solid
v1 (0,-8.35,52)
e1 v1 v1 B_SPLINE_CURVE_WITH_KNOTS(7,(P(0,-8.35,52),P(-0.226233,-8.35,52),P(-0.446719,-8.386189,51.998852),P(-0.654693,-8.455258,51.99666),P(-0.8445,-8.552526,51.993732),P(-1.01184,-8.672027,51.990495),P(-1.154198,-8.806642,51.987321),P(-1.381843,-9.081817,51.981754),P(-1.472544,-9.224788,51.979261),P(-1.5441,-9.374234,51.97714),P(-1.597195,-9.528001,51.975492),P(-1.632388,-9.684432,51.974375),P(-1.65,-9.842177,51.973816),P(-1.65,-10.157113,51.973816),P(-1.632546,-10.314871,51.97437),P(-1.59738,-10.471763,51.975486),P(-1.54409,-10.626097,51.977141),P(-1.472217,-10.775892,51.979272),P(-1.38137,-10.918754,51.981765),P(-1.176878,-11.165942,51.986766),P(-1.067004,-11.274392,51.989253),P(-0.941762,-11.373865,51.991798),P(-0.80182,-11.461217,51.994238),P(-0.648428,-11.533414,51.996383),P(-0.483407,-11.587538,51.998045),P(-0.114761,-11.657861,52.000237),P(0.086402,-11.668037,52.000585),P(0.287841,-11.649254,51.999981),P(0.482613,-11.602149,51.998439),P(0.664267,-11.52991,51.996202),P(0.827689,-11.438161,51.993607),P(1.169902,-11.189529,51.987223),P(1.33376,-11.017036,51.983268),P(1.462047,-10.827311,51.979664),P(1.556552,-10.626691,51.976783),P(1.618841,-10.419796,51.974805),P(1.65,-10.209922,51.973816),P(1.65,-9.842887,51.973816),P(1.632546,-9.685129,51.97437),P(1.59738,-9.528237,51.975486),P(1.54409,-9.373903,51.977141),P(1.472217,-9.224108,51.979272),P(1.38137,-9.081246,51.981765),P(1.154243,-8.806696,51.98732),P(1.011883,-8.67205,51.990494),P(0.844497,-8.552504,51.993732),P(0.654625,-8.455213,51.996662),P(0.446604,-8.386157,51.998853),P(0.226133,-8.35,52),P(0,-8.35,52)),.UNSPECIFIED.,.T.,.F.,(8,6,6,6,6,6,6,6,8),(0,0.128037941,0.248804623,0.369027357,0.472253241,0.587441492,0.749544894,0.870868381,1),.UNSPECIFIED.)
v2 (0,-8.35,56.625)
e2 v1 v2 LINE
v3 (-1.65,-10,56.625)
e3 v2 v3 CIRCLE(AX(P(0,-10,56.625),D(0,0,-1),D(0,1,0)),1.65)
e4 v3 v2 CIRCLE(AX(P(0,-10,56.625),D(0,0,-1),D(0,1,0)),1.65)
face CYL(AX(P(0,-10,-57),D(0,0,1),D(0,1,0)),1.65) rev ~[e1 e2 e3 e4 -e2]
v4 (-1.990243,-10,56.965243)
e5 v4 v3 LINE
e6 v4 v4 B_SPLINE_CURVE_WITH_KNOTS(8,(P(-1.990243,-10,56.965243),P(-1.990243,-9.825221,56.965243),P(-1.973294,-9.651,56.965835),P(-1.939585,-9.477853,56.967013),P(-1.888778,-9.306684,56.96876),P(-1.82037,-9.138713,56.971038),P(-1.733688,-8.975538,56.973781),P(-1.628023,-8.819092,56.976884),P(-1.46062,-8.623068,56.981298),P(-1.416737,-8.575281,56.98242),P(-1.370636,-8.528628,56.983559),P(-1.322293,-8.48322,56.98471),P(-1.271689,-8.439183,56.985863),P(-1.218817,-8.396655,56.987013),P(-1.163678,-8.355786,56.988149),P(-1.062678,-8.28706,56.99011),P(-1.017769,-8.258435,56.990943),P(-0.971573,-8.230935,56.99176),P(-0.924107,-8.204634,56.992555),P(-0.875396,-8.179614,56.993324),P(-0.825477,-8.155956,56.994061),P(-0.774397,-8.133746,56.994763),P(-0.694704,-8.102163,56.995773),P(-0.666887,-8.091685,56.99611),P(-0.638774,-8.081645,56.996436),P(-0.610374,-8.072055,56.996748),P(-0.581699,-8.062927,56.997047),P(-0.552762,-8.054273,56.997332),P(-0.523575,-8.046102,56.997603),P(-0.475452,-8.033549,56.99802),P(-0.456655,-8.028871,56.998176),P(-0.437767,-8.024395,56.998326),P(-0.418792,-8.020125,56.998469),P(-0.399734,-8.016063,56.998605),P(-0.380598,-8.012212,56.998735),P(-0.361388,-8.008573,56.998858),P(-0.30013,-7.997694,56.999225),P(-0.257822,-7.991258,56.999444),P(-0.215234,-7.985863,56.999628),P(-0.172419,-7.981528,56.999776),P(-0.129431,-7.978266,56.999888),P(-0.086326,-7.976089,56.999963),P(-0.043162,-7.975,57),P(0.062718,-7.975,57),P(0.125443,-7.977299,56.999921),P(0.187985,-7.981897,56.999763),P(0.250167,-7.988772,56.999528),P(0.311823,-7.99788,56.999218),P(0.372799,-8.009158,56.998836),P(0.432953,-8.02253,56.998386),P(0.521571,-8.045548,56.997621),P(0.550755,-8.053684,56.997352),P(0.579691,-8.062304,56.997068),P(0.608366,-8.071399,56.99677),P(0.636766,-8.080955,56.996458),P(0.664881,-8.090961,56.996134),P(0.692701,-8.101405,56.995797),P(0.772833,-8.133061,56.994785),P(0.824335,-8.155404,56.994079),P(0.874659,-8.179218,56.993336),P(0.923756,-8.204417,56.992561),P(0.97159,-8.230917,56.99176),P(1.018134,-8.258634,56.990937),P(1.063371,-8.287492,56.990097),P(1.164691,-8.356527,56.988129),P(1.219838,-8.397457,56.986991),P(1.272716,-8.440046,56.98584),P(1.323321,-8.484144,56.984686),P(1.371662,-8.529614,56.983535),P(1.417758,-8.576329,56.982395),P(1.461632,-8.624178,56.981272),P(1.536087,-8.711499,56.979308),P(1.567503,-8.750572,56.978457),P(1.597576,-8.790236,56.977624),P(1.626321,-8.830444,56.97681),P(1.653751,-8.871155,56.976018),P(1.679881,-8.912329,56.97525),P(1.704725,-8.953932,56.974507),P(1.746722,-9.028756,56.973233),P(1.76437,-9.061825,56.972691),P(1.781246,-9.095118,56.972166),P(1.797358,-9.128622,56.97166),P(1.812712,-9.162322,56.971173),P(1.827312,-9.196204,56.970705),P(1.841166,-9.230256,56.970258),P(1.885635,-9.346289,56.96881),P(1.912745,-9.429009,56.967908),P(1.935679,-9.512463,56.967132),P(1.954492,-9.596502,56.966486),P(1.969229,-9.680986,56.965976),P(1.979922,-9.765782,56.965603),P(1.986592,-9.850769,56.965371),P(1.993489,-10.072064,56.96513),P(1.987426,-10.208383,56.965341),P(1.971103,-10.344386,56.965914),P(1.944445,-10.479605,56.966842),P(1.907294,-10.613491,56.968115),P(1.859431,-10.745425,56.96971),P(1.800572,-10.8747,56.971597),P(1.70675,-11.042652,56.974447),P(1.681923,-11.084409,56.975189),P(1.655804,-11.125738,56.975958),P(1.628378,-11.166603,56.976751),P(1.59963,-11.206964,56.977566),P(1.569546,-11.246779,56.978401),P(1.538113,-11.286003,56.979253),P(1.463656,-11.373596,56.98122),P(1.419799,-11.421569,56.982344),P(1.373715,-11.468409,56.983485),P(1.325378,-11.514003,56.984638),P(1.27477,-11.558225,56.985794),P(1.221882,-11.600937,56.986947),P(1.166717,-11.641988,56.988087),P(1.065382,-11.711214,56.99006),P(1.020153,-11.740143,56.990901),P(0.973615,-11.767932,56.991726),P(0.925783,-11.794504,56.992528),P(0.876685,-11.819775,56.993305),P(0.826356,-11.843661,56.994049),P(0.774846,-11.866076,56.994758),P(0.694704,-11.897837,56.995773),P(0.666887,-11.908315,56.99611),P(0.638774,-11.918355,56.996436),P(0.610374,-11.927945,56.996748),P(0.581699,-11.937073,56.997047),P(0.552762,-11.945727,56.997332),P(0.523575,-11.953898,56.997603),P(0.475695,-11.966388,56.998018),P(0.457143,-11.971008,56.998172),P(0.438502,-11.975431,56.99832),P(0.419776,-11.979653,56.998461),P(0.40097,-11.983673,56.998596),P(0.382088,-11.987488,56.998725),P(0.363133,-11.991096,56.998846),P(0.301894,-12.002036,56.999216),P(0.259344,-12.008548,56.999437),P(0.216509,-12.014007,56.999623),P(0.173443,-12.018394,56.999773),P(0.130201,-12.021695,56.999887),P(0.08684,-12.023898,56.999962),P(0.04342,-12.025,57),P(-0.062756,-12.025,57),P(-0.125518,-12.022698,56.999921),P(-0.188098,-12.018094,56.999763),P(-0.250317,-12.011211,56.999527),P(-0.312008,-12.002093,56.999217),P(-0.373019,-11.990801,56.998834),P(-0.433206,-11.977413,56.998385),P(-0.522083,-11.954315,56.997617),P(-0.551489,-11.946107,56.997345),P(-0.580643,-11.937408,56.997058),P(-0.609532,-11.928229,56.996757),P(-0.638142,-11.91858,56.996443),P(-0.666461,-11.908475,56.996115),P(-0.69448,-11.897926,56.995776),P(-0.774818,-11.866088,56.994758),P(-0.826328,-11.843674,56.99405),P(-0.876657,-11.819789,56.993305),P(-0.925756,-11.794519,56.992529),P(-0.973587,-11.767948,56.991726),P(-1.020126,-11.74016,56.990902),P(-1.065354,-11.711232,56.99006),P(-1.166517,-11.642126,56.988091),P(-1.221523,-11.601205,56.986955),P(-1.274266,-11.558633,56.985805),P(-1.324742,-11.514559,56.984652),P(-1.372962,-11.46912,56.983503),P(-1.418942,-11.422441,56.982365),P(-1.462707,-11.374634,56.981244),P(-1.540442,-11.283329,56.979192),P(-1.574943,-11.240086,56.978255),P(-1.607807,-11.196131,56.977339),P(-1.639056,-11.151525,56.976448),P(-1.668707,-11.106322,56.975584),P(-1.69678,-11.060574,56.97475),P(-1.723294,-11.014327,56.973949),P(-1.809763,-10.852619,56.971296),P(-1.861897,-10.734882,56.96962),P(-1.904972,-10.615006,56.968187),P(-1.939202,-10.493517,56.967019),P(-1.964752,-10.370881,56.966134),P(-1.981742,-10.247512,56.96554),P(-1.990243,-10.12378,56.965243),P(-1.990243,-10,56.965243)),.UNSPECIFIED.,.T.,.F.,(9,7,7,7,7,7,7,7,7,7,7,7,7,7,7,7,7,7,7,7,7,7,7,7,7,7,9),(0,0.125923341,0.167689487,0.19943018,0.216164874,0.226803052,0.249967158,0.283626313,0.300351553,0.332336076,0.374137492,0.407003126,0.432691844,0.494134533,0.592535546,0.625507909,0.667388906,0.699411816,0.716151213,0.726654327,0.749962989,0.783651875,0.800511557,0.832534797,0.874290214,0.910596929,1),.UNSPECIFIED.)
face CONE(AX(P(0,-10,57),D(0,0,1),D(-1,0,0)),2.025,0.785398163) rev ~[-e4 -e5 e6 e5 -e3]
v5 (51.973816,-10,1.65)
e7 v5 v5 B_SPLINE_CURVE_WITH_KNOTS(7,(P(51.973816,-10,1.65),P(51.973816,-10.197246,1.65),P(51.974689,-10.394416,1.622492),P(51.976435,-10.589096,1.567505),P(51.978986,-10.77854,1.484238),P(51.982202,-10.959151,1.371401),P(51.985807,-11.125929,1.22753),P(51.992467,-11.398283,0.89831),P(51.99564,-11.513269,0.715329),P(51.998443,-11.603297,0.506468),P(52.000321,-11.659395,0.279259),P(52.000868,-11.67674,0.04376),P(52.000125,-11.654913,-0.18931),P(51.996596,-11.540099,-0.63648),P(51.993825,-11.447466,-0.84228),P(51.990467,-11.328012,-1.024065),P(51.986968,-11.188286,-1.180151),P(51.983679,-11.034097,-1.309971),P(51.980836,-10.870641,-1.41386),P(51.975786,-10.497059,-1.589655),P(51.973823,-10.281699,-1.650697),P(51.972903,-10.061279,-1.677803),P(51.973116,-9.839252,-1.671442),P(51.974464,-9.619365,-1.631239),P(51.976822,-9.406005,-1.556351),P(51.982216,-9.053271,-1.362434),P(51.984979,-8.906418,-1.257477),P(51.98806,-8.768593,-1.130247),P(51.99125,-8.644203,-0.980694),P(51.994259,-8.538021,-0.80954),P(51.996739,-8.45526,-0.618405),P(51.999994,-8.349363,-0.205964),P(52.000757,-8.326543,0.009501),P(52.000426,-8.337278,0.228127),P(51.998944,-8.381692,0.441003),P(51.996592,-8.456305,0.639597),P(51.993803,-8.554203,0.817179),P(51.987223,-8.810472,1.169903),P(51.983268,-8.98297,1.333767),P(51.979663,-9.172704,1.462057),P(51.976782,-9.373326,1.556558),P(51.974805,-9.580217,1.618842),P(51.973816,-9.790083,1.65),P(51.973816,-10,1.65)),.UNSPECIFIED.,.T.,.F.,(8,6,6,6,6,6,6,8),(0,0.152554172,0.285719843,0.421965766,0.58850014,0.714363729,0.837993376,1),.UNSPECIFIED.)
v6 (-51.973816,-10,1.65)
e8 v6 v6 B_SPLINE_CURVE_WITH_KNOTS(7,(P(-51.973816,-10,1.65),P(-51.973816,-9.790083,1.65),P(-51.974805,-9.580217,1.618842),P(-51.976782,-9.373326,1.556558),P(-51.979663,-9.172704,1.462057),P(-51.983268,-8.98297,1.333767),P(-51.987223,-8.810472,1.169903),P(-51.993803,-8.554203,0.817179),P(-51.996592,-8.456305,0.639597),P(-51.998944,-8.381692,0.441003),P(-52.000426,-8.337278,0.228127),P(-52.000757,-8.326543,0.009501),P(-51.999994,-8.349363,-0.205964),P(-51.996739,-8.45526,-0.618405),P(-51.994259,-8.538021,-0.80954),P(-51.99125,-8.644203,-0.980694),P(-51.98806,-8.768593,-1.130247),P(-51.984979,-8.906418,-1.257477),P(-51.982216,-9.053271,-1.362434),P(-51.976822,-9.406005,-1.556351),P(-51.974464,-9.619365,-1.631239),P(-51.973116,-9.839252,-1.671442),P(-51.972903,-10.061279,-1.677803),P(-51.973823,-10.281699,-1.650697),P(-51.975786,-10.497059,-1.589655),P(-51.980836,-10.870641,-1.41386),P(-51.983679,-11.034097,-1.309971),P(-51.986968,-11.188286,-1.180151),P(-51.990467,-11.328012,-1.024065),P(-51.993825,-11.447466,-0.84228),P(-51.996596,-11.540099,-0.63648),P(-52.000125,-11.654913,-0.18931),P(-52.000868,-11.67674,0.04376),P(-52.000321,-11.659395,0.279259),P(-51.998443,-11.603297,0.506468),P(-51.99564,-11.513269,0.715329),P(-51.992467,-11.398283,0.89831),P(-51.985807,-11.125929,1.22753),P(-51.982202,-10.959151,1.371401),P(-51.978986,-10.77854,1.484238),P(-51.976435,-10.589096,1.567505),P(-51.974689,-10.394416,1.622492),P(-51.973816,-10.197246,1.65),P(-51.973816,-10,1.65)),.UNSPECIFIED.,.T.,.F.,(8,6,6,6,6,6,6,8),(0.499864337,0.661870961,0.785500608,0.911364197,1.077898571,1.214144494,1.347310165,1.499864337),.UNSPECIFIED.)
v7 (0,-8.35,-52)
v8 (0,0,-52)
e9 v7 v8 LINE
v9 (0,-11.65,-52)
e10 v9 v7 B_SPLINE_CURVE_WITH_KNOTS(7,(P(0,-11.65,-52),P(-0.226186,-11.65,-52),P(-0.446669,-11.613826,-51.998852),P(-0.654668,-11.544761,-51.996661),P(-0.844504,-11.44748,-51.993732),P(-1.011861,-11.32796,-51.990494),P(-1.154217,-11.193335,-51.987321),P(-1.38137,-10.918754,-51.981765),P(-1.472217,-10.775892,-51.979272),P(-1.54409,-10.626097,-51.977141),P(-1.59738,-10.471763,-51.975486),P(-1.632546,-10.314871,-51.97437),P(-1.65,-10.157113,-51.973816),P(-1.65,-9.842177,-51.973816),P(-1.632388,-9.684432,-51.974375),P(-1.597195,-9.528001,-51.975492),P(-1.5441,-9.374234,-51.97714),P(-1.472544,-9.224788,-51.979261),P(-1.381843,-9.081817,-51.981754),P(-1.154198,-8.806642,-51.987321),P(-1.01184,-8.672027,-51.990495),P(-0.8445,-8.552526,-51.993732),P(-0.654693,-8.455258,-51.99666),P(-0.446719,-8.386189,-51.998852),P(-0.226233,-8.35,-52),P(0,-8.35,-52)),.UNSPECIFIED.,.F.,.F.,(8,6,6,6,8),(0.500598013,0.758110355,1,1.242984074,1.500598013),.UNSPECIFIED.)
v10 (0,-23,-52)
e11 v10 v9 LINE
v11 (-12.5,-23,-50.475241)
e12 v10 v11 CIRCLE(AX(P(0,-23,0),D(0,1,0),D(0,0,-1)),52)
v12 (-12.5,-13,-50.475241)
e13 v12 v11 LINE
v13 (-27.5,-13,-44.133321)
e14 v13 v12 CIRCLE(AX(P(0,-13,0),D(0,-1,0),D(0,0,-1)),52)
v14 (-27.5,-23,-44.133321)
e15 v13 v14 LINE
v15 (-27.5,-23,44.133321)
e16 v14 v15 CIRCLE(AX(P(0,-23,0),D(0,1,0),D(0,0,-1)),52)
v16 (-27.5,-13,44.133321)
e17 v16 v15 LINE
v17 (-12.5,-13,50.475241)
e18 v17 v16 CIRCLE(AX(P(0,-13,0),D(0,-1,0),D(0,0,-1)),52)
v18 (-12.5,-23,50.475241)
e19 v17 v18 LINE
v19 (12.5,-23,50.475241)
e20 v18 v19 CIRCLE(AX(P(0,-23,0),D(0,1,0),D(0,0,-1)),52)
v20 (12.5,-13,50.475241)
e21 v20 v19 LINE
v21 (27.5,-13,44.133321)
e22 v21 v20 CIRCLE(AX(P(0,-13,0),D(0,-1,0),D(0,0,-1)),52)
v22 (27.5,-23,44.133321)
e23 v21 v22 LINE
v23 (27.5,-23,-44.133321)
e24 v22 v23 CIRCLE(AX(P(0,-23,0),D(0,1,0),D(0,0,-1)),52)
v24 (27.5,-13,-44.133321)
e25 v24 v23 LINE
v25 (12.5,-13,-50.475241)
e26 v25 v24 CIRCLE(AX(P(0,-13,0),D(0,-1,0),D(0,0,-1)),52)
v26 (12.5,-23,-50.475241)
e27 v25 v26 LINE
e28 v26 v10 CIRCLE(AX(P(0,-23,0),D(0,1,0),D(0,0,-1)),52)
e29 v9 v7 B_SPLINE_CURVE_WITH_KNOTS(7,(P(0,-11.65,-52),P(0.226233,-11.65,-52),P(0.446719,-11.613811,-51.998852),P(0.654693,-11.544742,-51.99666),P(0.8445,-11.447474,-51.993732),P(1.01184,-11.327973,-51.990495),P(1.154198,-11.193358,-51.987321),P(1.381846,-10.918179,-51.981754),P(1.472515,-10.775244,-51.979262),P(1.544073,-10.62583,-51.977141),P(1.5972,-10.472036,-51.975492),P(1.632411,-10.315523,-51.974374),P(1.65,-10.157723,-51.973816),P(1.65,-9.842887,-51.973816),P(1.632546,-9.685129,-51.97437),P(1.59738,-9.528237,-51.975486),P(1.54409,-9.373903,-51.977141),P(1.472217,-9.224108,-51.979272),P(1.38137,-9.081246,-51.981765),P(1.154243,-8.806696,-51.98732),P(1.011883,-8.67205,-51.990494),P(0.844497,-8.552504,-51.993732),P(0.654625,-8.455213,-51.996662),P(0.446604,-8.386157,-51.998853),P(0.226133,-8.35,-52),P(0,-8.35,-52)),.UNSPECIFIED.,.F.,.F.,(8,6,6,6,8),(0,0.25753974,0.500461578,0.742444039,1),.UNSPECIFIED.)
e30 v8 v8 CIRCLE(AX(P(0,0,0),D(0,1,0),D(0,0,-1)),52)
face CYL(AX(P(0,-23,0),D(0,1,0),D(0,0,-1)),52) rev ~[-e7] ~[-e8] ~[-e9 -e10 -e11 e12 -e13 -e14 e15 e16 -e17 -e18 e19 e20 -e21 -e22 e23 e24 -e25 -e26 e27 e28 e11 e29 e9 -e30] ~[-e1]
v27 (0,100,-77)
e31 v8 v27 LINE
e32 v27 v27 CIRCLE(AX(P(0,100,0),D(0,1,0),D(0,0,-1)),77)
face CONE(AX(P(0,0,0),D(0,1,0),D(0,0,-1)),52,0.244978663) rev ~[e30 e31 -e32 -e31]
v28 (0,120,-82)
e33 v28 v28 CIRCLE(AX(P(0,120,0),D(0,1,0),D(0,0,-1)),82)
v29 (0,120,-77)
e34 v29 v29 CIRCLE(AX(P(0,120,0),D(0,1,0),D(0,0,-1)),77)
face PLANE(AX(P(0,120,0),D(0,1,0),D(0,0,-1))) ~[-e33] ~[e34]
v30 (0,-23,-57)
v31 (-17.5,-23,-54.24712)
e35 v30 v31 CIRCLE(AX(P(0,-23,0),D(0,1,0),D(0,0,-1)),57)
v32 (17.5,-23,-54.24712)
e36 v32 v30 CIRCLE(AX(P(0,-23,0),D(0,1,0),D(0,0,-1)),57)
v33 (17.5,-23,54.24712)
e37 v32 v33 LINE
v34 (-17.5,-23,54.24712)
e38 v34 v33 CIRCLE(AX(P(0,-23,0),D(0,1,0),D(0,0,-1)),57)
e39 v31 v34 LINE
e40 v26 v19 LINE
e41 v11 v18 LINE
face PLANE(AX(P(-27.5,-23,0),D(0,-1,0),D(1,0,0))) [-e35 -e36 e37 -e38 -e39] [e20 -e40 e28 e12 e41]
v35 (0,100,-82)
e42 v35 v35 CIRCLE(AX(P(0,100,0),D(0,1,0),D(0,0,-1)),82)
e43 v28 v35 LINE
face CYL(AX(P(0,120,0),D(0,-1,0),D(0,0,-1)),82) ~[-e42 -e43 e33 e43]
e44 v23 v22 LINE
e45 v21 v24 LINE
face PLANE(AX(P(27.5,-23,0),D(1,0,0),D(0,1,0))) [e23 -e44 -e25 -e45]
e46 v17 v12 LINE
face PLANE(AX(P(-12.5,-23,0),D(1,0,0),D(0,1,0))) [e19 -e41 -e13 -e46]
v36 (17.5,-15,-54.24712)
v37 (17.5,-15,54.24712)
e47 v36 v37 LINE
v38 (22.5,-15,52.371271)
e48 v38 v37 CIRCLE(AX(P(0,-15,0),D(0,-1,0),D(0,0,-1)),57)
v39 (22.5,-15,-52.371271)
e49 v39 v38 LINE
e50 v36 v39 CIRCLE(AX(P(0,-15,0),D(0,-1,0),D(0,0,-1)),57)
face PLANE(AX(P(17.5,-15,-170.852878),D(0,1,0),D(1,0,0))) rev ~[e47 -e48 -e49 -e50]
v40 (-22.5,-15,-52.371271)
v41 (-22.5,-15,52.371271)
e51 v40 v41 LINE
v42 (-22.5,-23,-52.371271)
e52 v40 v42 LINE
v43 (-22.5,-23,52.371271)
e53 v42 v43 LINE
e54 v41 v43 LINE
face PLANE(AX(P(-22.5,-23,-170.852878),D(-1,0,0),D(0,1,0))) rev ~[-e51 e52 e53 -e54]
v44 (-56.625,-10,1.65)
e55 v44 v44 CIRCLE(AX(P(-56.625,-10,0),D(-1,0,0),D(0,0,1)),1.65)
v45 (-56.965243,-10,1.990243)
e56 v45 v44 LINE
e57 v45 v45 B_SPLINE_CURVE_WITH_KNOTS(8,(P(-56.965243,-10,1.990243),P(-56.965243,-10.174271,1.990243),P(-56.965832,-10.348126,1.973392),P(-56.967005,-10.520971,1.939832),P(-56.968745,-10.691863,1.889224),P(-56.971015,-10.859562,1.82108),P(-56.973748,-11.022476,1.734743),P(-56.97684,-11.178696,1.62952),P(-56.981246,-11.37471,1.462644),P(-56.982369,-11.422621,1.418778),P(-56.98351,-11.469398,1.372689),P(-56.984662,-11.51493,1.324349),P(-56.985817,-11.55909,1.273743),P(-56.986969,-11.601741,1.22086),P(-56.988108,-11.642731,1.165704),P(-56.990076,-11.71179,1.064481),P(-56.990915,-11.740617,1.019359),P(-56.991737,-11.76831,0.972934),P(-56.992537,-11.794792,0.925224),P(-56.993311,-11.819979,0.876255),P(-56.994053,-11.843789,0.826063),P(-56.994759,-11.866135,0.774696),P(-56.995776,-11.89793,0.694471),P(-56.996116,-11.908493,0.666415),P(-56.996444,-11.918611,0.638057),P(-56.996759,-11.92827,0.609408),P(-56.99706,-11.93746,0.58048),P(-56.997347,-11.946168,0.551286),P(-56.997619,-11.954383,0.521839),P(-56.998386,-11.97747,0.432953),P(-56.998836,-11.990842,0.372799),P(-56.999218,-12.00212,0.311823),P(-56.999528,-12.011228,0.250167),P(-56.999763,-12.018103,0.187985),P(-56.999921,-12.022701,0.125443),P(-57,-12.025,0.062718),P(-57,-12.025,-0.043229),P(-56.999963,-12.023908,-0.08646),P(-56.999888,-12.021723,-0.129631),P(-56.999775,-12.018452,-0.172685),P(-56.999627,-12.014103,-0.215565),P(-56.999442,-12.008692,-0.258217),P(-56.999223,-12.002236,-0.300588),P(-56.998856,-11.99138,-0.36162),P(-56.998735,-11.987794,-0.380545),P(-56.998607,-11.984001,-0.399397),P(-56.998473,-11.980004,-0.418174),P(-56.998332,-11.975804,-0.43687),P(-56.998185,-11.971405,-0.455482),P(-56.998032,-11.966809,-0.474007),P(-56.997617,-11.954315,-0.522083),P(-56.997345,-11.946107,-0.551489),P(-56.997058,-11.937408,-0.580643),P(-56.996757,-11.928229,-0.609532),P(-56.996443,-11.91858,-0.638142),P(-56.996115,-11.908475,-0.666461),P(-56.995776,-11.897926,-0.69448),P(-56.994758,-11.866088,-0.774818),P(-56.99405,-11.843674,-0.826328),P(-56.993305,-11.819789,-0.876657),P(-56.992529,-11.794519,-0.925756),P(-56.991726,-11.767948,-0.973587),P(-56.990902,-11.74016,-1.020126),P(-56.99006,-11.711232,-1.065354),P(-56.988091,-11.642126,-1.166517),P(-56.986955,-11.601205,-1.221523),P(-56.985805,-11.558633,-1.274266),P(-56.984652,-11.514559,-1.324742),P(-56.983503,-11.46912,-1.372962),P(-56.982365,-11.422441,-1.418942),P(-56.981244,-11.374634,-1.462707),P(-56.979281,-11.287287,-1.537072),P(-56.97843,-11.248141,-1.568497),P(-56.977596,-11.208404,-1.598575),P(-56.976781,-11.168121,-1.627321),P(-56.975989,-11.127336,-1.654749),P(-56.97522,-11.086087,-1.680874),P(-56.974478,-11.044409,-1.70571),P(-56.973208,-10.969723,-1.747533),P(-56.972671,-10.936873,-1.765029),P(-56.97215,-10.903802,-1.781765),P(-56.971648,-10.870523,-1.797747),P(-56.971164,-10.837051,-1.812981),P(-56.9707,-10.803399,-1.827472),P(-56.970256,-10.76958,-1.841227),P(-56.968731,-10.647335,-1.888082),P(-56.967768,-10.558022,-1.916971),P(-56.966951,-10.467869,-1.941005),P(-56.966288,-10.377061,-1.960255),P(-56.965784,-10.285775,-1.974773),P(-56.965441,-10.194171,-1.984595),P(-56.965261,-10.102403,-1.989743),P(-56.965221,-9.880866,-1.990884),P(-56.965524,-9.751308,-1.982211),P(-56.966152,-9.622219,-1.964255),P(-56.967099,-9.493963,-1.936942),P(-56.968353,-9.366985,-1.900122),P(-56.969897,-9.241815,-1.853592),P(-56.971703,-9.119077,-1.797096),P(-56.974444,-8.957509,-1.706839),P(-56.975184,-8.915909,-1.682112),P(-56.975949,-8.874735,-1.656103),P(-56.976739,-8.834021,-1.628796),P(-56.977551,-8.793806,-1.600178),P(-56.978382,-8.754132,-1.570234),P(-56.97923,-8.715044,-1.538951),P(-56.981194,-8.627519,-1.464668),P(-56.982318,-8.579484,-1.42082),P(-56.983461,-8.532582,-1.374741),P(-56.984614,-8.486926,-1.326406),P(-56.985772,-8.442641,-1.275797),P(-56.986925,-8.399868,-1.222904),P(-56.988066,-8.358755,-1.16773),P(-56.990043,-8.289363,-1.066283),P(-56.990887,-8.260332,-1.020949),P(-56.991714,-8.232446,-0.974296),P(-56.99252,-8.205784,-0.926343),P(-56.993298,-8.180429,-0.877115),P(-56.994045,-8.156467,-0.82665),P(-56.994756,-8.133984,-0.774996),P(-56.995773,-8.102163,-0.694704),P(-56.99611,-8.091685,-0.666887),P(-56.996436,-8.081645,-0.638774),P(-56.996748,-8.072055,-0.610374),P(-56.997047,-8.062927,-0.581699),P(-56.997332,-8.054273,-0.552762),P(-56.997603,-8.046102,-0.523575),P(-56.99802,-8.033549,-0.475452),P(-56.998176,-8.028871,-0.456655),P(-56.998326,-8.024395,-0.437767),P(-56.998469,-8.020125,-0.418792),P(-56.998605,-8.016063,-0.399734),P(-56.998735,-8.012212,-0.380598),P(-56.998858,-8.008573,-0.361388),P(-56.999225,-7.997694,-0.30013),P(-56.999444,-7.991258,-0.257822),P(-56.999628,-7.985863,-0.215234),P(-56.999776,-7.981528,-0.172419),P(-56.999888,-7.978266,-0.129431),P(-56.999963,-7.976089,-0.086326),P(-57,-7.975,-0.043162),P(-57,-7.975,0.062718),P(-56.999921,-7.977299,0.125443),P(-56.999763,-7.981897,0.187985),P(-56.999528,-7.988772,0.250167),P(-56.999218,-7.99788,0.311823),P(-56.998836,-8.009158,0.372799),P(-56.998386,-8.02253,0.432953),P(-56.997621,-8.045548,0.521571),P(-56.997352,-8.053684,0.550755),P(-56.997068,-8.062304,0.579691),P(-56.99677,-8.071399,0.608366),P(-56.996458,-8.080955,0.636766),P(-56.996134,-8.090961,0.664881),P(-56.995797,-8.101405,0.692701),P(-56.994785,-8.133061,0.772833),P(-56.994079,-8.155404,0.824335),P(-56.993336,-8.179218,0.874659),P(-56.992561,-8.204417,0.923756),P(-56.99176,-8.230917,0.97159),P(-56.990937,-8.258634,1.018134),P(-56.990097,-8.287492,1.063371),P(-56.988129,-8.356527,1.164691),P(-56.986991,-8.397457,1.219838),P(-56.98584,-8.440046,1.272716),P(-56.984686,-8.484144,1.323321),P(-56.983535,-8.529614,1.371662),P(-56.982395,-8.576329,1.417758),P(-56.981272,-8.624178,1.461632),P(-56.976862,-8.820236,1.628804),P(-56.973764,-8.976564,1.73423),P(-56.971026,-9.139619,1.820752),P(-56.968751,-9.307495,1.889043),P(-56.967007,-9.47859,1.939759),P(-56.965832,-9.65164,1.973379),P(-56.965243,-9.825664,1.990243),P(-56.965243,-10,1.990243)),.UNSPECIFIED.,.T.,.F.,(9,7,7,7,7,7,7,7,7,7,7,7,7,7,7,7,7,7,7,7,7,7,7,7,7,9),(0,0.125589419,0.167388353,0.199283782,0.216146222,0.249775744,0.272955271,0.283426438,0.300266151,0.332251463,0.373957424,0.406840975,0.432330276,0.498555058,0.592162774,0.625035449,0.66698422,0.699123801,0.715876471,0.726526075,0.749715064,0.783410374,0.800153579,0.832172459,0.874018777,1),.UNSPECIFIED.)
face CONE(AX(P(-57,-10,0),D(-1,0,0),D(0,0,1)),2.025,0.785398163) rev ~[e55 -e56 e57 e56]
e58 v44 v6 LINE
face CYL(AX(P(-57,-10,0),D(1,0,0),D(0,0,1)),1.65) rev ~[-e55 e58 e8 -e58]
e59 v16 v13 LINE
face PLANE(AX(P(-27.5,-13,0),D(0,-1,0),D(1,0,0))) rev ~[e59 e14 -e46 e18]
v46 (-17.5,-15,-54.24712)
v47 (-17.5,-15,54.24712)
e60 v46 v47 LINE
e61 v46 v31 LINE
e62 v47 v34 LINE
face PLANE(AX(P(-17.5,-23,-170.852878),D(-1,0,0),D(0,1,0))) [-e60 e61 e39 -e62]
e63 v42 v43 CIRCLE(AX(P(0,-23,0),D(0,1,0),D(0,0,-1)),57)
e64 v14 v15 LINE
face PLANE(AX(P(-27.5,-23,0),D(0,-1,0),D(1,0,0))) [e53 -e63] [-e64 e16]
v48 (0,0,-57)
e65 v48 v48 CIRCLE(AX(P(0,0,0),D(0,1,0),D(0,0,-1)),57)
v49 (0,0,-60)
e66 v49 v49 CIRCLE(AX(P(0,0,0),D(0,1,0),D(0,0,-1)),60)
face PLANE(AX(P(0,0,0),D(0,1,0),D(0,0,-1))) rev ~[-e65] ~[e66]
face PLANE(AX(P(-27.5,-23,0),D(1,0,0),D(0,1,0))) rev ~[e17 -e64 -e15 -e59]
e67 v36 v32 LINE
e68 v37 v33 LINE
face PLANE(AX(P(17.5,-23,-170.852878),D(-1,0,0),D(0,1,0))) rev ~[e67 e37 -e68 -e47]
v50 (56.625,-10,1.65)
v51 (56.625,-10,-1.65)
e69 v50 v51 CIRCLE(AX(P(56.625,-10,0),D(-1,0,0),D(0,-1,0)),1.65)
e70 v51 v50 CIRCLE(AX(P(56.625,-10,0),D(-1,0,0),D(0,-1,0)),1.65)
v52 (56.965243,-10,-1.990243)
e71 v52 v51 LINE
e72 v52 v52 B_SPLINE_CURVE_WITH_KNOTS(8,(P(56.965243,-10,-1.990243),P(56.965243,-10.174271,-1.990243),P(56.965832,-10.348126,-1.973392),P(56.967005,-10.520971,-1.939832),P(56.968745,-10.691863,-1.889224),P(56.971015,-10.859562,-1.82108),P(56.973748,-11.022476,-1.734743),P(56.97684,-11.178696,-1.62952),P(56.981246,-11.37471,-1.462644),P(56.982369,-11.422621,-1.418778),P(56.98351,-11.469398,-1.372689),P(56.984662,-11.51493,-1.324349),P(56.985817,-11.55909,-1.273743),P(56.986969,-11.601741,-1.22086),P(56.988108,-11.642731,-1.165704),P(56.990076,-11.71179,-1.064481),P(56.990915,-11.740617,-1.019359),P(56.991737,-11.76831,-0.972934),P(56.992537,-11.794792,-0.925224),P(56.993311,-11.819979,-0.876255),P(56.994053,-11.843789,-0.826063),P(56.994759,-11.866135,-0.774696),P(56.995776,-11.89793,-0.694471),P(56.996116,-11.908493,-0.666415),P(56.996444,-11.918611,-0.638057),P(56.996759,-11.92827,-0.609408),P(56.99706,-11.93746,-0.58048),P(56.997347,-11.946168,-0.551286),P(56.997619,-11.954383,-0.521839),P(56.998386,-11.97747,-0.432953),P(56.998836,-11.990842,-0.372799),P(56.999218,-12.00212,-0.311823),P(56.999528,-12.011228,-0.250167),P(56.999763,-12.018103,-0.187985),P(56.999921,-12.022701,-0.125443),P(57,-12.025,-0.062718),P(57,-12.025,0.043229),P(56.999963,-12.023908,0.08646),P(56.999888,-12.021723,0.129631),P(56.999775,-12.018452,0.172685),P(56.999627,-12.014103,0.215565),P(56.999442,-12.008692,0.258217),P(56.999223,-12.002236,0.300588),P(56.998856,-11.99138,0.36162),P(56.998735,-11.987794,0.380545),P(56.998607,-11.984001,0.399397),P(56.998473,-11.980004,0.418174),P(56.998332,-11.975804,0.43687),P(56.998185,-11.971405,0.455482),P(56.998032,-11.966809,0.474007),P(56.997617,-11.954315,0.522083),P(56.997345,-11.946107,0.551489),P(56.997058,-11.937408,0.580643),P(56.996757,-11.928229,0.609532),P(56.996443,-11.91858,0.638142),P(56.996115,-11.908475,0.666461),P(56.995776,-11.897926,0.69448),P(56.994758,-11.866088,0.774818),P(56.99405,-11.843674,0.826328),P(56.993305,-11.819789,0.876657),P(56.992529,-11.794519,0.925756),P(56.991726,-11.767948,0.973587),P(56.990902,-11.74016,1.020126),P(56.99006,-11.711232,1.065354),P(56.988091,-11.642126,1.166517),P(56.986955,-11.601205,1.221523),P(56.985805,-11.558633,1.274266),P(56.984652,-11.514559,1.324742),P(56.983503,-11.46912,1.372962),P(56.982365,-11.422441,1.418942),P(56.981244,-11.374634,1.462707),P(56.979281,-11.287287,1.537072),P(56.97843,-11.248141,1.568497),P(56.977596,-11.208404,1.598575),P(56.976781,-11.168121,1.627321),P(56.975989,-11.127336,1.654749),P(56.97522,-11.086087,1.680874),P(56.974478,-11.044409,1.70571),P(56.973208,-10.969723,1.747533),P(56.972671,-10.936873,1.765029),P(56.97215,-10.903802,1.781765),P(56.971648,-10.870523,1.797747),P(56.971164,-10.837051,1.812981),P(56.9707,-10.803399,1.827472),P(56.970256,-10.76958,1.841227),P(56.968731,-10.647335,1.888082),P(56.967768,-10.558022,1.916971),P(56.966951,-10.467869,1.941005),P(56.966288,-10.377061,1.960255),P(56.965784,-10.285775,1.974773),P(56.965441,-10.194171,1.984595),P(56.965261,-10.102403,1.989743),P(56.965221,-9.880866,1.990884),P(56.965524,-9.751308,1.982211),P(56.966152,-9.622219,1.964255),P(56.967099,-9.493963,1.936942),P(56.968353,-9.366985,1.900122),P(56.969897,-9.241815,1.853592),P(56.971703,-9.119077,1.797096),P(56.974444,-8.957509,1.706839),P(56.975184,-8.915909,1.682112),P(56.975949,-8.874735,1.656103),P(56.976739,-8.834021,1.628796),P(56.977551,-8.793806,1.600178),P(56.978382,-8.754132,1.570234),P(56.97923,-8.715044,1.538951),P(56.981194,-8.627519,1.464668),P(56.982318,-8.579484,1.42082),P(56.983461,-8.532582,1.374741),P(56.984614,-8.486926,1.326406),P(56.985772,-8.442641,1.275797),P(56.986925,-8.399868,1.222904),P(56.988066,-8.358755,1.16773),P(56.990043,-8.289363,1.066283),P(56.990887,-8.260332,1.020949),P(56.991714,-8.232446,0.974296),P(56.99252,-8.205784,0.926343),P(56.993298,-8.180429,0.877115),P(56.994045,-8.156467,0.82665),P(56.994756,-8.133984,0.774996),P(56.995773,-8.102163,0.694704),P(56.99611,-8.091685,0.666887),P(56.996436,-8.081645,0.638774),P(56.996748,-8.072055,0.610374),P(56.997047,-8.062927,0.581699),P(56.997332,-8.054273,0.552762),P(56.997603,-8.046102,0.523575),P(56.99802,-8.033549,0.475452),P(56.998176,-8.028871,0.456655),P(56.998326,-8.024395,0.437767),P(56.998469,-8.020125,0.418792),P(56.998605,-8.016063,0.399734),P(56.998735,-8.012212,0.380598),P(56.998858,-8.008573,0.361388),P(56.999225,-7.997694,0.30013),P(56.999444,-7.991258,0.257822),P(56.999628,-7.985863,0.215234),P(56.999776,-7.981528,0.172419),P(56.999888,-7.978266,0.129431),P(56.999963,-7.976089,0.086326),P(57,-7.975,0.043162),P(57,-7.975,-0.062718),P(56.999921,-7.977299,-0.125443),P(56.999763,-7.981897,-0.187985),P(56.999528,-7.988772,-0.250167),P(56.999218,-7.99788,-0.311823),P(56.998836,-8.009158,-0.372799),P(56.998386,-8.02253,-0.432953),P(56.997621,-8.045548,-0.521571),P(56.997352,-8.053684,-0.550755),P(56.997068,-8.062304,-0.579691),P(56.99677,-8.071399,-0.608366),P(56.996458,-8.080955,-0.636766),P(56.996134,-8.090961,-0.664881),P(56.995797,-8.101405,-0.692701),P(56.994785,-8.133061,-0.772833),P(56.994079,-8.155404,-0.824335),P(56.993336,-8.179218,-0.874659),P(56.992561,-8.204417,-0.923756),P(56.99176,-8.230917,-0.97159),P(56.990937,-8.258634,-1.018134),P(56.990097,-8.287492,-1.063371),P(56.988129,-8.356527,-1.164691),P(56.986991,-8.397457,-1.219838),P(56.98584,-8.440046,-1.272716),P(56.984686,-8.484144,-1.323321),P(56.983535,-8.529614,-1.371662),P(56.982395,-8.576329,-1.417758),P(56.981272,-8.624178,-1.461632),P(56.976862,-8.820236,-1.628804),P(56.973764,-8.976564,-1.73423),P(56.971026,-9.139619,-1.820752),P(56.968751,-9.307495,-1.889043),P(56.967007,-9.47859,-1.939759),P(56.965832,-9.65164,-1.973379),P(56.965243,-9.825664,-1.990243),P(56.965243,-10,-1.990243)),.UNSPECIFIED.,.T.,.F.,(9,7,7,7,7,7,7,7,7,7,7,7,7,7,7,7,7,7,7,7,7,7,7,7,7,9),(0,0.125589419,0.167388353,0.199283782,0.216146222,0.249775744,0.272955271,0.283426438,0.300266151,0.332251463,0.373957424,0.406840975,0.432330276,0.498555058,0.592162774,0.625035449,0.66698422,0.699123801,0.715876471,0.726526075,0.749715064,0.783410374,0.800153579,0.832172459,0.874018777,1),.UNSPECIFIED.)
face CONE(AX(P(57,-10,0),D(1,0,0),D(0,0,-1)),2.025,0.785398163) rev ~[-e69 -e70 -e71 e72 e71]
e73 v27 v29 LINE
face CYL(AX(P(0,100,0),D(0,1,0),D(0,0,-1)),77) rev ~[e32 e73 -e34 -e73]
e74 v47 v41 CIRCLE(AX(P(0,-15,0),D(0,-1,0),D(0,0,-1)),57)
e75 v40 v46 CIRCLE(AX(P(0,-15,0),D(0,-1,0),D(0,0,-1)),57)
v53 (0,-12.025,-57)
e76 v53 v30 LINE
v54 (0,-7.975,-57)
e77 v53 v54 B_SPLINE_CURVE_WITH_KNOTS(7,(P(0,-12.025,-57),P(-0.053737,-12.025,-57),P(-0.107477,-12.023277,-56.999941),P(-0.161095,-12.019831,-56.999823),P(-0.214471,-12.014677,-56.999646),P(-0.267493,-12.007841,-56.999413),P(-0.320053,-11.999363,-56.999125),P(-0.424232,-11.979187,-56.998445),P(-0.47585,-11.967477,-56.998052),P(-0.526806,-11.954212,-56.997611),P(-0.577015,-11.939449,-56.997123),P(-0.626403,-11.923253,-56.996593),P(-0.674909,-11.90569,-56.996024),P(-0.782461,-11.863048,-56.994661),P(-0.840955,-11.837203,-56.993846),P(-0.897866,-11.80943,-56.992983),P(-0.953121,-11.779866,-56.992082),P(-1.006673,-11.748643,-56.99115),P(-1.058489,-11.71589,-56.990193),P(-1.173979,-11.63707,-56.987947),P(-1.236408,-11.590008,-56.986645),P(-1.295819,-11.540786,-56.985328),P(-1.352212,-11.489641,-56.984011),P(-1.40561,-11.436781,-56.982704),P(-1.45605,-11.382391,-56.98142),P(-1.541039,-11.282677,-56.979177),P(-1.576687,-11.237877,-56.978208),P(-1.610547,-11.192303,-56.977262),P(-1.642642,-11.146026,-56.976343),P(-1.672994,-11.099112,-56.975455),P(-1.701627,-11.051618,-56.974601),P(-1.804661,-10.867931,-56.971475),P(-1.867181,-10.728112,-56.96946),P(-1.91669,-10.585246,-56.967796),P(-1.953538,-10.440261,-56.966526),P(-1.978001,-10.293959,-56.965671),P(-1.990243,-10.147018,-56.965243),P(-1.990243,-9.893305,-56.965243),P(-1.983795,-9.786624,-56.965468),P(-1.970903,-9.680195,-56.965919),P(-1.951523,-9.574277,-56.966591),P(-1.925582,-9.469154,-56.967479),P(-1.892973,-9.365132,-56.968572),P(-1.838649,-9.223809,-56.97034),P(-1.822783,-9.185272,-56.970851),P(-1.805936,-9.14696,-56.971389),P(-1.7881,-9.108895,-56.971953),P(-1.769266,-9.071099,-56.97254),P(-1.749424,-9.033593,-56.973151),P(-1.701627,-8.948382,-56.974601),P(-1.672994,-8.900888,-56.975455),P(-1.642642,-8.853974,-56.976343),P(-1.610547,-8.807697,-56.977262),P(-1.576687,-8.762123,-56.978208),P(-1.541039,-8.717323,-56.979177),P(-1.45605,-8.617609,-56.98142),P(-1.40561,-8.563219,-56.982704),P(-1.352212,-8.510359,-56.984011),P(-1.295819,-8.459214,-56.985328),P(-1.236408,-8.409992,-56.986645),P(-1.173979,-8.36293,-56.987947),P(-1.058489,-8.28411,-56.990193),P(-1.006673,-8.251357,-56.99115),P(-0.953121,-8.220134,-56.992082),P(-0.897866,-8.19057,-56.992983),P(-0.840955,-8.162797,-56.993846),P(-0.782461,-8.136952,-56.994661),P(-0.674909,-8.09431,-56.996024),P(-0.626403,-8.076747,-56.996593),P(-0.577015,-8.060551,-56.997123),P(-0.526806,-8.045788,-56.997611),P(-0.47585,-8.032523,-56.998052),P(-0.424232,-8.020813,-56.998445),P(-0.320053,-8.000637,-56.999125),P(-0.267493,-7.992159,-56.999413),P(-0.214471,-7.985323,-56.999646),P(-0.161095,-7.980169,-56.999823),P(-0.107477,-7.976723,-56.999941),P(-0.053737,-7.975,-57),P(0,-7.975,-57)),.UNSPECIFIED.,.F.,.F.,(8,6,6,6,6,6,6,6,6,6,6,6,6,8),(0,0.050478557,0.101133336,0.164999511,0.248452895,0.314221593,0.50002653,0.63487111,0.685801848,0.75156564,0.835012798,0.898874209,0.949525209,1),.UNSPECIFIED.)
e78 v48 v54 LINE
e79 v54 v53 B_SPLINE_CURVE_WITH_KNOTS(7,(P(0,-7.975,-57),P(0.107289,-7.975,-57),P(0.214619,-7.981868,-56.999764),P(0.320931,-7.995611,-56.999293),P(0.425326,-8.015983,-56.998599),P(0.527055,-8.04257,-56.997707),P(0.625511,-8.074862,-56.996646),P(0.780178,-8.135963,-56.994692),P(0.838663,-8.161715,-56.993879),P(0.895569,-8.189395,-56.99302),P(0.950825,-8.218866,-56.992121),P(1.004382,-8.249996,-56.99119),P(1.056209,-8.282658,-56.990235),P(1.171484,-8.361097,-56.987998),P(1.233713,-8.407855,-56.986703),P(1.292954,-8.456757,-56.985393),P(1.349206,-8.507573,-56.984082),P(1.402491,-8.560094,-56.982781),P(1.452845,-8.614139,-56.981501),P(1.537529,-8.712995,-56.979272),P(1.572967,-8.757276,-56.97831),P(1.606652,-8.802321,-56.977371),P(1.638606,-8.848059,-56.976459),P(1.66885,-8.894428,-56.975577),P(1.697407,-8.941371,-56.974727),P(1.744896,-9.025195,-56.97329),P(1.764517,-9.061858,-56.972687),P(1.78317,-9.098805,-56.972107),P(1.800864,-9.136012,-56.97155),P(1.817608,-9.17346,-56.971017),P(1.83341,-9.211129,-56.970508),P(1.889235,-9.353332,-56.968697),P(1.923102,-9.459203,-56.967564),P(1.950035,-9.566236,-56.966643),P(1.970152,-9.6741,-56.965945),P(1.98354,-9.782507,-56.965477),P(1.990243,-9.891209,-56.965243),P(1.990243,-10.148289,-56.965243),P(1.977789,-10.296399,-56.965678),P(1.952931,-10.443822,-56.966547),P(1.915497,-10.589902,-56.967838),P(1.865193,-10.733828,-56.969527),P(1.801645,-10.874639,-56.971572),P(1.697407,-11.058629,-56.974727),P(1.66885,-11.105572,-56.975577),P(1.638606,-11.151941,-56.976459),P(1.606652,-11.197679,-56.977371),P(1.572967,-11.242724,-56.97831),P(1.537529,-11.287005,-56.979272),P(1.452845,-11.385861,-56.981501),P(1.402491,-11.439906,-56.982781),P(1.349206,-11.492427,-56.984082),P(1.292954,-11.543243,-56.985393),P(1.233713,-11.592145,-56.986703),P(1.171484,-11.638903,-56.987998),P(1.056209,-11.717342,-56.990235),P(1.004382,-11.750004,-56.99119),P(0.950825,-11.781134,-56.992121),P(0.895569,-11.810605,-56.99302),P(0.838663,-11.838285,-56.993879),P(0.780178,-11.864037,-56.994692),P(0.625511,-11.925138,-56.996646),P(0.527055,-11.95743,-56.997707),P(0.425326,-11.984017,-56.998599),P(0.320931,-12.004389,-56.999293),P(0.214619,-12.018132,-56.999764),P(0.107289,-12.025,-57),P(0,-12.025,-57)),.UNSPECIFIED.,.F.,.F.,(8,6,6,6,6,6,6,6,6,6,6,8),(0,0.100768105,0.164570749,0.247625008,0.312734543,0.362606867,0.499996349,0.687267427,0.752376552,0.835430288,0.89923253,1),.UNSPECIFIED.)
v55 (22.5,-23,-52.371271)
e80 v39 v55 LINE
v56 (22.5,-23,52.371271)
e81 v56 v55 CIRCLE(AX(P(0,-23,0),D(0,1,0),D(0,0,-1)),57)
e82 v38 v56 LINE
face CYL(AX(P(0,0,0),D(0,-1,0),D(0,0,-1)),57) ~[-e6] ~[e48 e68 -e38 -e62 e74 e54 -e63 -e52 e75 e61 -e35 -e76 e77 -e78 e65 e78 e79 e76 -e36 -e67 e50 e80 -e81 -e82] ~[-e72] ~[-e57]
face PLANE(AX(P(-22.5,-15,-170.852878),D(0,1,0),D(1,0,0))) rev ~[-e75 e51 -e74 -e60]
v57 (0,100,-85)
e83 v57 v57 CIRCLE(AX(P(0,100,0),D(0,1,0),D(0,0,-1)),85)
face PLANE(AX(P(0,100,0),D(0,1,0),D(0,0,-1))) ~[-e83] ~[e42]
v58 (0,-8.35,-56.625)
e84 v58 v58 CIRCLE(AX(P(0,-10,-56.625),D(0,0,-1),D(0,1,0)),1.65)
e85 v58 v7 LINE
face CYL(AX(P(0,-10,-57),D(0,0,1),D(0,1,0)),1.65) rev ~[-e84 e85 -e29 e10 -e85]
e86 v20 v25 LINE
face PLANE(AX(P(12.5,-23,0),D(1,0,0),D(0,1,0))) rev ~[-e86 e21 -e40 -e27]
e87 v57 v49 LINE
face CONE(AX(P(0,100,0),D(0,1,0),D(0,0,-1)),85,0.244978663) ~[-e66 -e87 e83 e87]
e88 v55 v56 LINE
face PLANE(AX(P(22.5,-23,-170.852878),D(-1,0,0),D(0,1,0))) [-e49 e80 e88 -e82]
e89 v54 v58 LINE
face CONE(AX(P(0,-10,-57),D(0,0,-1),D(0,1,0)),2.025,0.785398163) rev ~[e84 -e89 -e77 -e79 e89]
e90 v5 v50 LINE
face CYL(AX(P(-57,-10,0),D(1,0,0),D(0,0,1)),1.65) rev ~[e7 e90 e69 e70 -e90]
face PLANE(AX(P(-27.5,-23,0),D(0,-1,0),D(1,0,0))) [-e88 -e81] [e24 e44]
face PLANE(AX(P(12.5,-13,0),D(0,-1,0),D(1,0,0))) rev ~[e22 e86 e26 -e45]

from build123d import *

# Parameters (mm, degrees)
BOSS_EXTRUDE1_REACH                   = 171.853
BOSS_EXTRUDE1_END_RADIUS              = 52
SKETCH3_W                             = 15
SKETCH3_H                             = 10
BOSS_EXTRUDE1_DIRECTION_2_REACH       = 171.853
BOSS_EXTRUDE1_DIRECTION_2_END_RADIUS  = 52
CUT_EXTRUDE1_DEPTH                    = 170.852877515
CUT_EXTRUDE1_DEPTH_BACK               = 170.852877515
SKETCH4_W                             = 5
SKETCH4_H                             = 8
M4_TAPPED_HOLE1_D                     = 3.3
M4_TAPPED_HOLE1_CSINK_D               = 4.05
M4_TAPPED_HOLE1_CSINK_ANGLE           = 90
M4_TAPPED_HOLE1_ON_FACE_2_D           = 3.3
M4_TAPPED_HOLE1_ON_FACE_2_CSINK_D     = 4.05
M4_TAPPED_HOLE1_ON_FACE_2_CSINK_ANGLE = 90
M4_TAPPED_HOLE1_ON_FACE_3_D           = 3.3
M4_TAPPED_HOLE1_ON_FACE_3_CSINK_D     = 4.05
M4_TAPPED_HOLE1_ON_FACE_3_CSINK_ANGLE = 90
M4_TAPPED_HOLE1_ON_FACE_4_D           = 3.3
M4_TAPPED_HOLE1_ON_FACE_4_CSINK_D     = 4.05
M4_TAPPED_HOLE1_ON_FACE_4_CSINK_ANGLE = 90


with BuildPart() as part:
    # Sketch1 → Revolve1 (revolve)
    with BuildSketch(Plane.XY, mode=Mode.PRIVATE) as revolve1_sk:
        Polygon((77, 120), (82, 120), (82, 100), (85, 100), (60, 0), (57, 0), (57, -23), (52, -23), (52, 0), (77, 100), align=None)
    revolve(revolve1_sk.sketch.rotate(Axis((0, 0, 0), (0, 1, 0)), 90), axis=Axis((0, 0, 0), (0, 1, 0)))

    # Boss-Extrude1: up to this cylinder (the profile starts inside it)
    boss_extrude1_end = Plane(origin=(0, -18, 0), z_dir=(0, -1, 0)) * Cylinder(BOSS_EXTRUDE1_END_RADIUS, 448.706, mode=Mode.PRIVATE)
    # Sketch3 → Boss-Extrude1 (add, up to the surface)
    with BuildSketch(Plane.XY, mode=Mode.PRIVATE) as boss_extrude1_sk1:
        with Locations((20, -18)):
            Rectangle(SKETCH3_W, SKETCH3_H)
    boss_extrude1_tool1 = extrude(boss_extrude1_sk1.sketch, amount=BOSS_EXTRUDE1_REACH, mode=Mode.PRIVATE) & boss_extrude1_end
    add(boss_extrude1_tool1.solids().sort_by_distance((20, -18, 0))[0])
    # Sketch3 → Boss-Extrude1 (add, up to the surface)
    with BuildSketch(Plane.XY, mode=Mode.PRIVATE) as boss_extrude1_sk2:
        with Locations((-20, -18)):
            Rectangle(SKETCH3_W, SKETCH3_H)
    boss_extrude1_tool2 = extrude(boss_extrude1_sk2.sketch, amount=BOSS_EXTRUDE1_REACH, mode=Mode.PRIVATE) & boss_extrude1_end
    add(boss_extrude1_tool2.solids().sort_by_distance((-20, -18, 0))[0])

    # Boss-Extrude1 direction 2: up to this cylinder (the profile starts inside it)
    boss_extrude1_direction_2_end = Plane(origin=(0, -18, 0), z_dir=(0, -1, 0)) * Cylinder(BOSS_EXTRUDE1_DIRECTION_2_END_RADIUS, 448.706, mode=Mode.PRIVATE)
    # Sketch3 → Boss-Extrude1 direction 2 (add, up to the surface)
    with BuildSketch(Plane.XY, mode=Mode.PRIVATE) as boss_extrude1_direction_2_sk1:
        with Locations((20, -18)):
            Rectangle(SKETCH3_W, SKETCH3_H)
    boss_extrude1_direction_2_tool1 = extrude(boss_extrude1_direction_2_sk1.sketch, amount=-BOSS_EXTRUDE1_DIRECTION_2_REACH, mode=Mode.PRIVATE) & boss_extrude1_direction_2_end
    add(boss_extrude1_direction_2_tool1.solids().sort_by_distance((20, -18, 0))[0])
    # Sketch3 → Boss-Extrude1 direction 2 (add, up to the surface)
    with BuildSketch(Plane.XY, mode=Mode.PRIVATE) as boss_extrude1_direction_2_sk2:
        with Locations((-20, -18)):
            Rectangle(SKETCH3_W, SKETCH3_H)
    boss_extrude1_direction_2_tool2 = extrude(boss_extrude1_direction_2_sk2.sketch, amount=-BOSS_EXTRUDE1_DIRECTION_2_REACH, mode=Mode.PRIVATE) & boss_extrude1_direction_2_end
    add(boss_extrude1_direction_2_tool2.solids().sort_by_distance((-20, -18, 0))[0])

    # Sketch4 → Cut-Extrude1 (cut, two sides: drawn at the far end of the back side and taken through both)
    with BuildSketch(Plane.XY.offset(-CUT_EXTRUDE1_DEPTH_BACK)):
        with Locations((-20, -19)):
            Rectangle(SKETCH4_W, SKETCH4_H)
        with Locations((20, -19)):
            Rectangle(SKETCH4_W, SKETCH4_H)
    extrude(amount=CUT_EXTRUDE1_DEPTH + CUT_EXTRUDE1_DEPTH_BACK, mode=Mode.SUBTRACT)

    # M4 Tapped Hole1 (through all)
    with Locations(Plane(origin=(0, -10, -57), x_dir=(0, -1, 0), z_dir=(0, 0, -1))):
        with Locations((0, 0)):
            CounterSinkHole(M4_TAPPED_HOLE1_D / 2, M4_TAPPED_HOLE1_CSINK_D / 2, counter_sink_angle=M4_TAPPED_HOLE1_CSINK_ANGLE)

    # M4 Tapped Hole1 on face 2 (through all)
    with Locations(Plane(origin=(-57, -10, 0), x_dir=(0, 0, -1), z_dir=(-1, 0, 0))):
        with Locations((0, 0)):
            CounterSinkHole(M4_TAPPED_HOLE1_ON_FACE_2_D / 2, M4_TAPPED_HOLE1_ON_FACE_2_CSINK_D / 2, counter_sink_angle=M4_TAPPED_HOLE1_ON_FACE_2_CSINK_ANGLE)

    # M4 Tapped Hole1 on face 3 (through all)
    with Locations(Plane(origin=(0, -10, 57), x_dir=(1, 0, 0), z_dir=(0, 0, 1))):
        with Locations((0, 0)):
            CounterSinkHole(M4_TAPPED_HOLE1_ON_FACE_3_D / 2, M4_TAPPED_HOLE1_ON_FACE_3_CSINK_D / 2, counter_sink_angle=M4_TAPPED_HOLE1_ON_FACE_3_CSINK_ANGLE)

    # M4 Tapped Hole1 on face 4 (through all)
    with Locations(Plane(origin=(57, -10, 0), x_dir=(0, 0, 1), z_dir=(1, 0, 0))):
        with Locations((0, 0)):
            CounterSinkHole(M4_TAPPED_HOLE1_ON_FACE_4_D / 2, M4_TAPPED_HOLE1_ON_FACE_4_CSINK_D / 2, counter_sink_angle=M4_TAPPED_HOLE1_ON_FACE_4_CSINK_ANGLE)


solid = part.part
